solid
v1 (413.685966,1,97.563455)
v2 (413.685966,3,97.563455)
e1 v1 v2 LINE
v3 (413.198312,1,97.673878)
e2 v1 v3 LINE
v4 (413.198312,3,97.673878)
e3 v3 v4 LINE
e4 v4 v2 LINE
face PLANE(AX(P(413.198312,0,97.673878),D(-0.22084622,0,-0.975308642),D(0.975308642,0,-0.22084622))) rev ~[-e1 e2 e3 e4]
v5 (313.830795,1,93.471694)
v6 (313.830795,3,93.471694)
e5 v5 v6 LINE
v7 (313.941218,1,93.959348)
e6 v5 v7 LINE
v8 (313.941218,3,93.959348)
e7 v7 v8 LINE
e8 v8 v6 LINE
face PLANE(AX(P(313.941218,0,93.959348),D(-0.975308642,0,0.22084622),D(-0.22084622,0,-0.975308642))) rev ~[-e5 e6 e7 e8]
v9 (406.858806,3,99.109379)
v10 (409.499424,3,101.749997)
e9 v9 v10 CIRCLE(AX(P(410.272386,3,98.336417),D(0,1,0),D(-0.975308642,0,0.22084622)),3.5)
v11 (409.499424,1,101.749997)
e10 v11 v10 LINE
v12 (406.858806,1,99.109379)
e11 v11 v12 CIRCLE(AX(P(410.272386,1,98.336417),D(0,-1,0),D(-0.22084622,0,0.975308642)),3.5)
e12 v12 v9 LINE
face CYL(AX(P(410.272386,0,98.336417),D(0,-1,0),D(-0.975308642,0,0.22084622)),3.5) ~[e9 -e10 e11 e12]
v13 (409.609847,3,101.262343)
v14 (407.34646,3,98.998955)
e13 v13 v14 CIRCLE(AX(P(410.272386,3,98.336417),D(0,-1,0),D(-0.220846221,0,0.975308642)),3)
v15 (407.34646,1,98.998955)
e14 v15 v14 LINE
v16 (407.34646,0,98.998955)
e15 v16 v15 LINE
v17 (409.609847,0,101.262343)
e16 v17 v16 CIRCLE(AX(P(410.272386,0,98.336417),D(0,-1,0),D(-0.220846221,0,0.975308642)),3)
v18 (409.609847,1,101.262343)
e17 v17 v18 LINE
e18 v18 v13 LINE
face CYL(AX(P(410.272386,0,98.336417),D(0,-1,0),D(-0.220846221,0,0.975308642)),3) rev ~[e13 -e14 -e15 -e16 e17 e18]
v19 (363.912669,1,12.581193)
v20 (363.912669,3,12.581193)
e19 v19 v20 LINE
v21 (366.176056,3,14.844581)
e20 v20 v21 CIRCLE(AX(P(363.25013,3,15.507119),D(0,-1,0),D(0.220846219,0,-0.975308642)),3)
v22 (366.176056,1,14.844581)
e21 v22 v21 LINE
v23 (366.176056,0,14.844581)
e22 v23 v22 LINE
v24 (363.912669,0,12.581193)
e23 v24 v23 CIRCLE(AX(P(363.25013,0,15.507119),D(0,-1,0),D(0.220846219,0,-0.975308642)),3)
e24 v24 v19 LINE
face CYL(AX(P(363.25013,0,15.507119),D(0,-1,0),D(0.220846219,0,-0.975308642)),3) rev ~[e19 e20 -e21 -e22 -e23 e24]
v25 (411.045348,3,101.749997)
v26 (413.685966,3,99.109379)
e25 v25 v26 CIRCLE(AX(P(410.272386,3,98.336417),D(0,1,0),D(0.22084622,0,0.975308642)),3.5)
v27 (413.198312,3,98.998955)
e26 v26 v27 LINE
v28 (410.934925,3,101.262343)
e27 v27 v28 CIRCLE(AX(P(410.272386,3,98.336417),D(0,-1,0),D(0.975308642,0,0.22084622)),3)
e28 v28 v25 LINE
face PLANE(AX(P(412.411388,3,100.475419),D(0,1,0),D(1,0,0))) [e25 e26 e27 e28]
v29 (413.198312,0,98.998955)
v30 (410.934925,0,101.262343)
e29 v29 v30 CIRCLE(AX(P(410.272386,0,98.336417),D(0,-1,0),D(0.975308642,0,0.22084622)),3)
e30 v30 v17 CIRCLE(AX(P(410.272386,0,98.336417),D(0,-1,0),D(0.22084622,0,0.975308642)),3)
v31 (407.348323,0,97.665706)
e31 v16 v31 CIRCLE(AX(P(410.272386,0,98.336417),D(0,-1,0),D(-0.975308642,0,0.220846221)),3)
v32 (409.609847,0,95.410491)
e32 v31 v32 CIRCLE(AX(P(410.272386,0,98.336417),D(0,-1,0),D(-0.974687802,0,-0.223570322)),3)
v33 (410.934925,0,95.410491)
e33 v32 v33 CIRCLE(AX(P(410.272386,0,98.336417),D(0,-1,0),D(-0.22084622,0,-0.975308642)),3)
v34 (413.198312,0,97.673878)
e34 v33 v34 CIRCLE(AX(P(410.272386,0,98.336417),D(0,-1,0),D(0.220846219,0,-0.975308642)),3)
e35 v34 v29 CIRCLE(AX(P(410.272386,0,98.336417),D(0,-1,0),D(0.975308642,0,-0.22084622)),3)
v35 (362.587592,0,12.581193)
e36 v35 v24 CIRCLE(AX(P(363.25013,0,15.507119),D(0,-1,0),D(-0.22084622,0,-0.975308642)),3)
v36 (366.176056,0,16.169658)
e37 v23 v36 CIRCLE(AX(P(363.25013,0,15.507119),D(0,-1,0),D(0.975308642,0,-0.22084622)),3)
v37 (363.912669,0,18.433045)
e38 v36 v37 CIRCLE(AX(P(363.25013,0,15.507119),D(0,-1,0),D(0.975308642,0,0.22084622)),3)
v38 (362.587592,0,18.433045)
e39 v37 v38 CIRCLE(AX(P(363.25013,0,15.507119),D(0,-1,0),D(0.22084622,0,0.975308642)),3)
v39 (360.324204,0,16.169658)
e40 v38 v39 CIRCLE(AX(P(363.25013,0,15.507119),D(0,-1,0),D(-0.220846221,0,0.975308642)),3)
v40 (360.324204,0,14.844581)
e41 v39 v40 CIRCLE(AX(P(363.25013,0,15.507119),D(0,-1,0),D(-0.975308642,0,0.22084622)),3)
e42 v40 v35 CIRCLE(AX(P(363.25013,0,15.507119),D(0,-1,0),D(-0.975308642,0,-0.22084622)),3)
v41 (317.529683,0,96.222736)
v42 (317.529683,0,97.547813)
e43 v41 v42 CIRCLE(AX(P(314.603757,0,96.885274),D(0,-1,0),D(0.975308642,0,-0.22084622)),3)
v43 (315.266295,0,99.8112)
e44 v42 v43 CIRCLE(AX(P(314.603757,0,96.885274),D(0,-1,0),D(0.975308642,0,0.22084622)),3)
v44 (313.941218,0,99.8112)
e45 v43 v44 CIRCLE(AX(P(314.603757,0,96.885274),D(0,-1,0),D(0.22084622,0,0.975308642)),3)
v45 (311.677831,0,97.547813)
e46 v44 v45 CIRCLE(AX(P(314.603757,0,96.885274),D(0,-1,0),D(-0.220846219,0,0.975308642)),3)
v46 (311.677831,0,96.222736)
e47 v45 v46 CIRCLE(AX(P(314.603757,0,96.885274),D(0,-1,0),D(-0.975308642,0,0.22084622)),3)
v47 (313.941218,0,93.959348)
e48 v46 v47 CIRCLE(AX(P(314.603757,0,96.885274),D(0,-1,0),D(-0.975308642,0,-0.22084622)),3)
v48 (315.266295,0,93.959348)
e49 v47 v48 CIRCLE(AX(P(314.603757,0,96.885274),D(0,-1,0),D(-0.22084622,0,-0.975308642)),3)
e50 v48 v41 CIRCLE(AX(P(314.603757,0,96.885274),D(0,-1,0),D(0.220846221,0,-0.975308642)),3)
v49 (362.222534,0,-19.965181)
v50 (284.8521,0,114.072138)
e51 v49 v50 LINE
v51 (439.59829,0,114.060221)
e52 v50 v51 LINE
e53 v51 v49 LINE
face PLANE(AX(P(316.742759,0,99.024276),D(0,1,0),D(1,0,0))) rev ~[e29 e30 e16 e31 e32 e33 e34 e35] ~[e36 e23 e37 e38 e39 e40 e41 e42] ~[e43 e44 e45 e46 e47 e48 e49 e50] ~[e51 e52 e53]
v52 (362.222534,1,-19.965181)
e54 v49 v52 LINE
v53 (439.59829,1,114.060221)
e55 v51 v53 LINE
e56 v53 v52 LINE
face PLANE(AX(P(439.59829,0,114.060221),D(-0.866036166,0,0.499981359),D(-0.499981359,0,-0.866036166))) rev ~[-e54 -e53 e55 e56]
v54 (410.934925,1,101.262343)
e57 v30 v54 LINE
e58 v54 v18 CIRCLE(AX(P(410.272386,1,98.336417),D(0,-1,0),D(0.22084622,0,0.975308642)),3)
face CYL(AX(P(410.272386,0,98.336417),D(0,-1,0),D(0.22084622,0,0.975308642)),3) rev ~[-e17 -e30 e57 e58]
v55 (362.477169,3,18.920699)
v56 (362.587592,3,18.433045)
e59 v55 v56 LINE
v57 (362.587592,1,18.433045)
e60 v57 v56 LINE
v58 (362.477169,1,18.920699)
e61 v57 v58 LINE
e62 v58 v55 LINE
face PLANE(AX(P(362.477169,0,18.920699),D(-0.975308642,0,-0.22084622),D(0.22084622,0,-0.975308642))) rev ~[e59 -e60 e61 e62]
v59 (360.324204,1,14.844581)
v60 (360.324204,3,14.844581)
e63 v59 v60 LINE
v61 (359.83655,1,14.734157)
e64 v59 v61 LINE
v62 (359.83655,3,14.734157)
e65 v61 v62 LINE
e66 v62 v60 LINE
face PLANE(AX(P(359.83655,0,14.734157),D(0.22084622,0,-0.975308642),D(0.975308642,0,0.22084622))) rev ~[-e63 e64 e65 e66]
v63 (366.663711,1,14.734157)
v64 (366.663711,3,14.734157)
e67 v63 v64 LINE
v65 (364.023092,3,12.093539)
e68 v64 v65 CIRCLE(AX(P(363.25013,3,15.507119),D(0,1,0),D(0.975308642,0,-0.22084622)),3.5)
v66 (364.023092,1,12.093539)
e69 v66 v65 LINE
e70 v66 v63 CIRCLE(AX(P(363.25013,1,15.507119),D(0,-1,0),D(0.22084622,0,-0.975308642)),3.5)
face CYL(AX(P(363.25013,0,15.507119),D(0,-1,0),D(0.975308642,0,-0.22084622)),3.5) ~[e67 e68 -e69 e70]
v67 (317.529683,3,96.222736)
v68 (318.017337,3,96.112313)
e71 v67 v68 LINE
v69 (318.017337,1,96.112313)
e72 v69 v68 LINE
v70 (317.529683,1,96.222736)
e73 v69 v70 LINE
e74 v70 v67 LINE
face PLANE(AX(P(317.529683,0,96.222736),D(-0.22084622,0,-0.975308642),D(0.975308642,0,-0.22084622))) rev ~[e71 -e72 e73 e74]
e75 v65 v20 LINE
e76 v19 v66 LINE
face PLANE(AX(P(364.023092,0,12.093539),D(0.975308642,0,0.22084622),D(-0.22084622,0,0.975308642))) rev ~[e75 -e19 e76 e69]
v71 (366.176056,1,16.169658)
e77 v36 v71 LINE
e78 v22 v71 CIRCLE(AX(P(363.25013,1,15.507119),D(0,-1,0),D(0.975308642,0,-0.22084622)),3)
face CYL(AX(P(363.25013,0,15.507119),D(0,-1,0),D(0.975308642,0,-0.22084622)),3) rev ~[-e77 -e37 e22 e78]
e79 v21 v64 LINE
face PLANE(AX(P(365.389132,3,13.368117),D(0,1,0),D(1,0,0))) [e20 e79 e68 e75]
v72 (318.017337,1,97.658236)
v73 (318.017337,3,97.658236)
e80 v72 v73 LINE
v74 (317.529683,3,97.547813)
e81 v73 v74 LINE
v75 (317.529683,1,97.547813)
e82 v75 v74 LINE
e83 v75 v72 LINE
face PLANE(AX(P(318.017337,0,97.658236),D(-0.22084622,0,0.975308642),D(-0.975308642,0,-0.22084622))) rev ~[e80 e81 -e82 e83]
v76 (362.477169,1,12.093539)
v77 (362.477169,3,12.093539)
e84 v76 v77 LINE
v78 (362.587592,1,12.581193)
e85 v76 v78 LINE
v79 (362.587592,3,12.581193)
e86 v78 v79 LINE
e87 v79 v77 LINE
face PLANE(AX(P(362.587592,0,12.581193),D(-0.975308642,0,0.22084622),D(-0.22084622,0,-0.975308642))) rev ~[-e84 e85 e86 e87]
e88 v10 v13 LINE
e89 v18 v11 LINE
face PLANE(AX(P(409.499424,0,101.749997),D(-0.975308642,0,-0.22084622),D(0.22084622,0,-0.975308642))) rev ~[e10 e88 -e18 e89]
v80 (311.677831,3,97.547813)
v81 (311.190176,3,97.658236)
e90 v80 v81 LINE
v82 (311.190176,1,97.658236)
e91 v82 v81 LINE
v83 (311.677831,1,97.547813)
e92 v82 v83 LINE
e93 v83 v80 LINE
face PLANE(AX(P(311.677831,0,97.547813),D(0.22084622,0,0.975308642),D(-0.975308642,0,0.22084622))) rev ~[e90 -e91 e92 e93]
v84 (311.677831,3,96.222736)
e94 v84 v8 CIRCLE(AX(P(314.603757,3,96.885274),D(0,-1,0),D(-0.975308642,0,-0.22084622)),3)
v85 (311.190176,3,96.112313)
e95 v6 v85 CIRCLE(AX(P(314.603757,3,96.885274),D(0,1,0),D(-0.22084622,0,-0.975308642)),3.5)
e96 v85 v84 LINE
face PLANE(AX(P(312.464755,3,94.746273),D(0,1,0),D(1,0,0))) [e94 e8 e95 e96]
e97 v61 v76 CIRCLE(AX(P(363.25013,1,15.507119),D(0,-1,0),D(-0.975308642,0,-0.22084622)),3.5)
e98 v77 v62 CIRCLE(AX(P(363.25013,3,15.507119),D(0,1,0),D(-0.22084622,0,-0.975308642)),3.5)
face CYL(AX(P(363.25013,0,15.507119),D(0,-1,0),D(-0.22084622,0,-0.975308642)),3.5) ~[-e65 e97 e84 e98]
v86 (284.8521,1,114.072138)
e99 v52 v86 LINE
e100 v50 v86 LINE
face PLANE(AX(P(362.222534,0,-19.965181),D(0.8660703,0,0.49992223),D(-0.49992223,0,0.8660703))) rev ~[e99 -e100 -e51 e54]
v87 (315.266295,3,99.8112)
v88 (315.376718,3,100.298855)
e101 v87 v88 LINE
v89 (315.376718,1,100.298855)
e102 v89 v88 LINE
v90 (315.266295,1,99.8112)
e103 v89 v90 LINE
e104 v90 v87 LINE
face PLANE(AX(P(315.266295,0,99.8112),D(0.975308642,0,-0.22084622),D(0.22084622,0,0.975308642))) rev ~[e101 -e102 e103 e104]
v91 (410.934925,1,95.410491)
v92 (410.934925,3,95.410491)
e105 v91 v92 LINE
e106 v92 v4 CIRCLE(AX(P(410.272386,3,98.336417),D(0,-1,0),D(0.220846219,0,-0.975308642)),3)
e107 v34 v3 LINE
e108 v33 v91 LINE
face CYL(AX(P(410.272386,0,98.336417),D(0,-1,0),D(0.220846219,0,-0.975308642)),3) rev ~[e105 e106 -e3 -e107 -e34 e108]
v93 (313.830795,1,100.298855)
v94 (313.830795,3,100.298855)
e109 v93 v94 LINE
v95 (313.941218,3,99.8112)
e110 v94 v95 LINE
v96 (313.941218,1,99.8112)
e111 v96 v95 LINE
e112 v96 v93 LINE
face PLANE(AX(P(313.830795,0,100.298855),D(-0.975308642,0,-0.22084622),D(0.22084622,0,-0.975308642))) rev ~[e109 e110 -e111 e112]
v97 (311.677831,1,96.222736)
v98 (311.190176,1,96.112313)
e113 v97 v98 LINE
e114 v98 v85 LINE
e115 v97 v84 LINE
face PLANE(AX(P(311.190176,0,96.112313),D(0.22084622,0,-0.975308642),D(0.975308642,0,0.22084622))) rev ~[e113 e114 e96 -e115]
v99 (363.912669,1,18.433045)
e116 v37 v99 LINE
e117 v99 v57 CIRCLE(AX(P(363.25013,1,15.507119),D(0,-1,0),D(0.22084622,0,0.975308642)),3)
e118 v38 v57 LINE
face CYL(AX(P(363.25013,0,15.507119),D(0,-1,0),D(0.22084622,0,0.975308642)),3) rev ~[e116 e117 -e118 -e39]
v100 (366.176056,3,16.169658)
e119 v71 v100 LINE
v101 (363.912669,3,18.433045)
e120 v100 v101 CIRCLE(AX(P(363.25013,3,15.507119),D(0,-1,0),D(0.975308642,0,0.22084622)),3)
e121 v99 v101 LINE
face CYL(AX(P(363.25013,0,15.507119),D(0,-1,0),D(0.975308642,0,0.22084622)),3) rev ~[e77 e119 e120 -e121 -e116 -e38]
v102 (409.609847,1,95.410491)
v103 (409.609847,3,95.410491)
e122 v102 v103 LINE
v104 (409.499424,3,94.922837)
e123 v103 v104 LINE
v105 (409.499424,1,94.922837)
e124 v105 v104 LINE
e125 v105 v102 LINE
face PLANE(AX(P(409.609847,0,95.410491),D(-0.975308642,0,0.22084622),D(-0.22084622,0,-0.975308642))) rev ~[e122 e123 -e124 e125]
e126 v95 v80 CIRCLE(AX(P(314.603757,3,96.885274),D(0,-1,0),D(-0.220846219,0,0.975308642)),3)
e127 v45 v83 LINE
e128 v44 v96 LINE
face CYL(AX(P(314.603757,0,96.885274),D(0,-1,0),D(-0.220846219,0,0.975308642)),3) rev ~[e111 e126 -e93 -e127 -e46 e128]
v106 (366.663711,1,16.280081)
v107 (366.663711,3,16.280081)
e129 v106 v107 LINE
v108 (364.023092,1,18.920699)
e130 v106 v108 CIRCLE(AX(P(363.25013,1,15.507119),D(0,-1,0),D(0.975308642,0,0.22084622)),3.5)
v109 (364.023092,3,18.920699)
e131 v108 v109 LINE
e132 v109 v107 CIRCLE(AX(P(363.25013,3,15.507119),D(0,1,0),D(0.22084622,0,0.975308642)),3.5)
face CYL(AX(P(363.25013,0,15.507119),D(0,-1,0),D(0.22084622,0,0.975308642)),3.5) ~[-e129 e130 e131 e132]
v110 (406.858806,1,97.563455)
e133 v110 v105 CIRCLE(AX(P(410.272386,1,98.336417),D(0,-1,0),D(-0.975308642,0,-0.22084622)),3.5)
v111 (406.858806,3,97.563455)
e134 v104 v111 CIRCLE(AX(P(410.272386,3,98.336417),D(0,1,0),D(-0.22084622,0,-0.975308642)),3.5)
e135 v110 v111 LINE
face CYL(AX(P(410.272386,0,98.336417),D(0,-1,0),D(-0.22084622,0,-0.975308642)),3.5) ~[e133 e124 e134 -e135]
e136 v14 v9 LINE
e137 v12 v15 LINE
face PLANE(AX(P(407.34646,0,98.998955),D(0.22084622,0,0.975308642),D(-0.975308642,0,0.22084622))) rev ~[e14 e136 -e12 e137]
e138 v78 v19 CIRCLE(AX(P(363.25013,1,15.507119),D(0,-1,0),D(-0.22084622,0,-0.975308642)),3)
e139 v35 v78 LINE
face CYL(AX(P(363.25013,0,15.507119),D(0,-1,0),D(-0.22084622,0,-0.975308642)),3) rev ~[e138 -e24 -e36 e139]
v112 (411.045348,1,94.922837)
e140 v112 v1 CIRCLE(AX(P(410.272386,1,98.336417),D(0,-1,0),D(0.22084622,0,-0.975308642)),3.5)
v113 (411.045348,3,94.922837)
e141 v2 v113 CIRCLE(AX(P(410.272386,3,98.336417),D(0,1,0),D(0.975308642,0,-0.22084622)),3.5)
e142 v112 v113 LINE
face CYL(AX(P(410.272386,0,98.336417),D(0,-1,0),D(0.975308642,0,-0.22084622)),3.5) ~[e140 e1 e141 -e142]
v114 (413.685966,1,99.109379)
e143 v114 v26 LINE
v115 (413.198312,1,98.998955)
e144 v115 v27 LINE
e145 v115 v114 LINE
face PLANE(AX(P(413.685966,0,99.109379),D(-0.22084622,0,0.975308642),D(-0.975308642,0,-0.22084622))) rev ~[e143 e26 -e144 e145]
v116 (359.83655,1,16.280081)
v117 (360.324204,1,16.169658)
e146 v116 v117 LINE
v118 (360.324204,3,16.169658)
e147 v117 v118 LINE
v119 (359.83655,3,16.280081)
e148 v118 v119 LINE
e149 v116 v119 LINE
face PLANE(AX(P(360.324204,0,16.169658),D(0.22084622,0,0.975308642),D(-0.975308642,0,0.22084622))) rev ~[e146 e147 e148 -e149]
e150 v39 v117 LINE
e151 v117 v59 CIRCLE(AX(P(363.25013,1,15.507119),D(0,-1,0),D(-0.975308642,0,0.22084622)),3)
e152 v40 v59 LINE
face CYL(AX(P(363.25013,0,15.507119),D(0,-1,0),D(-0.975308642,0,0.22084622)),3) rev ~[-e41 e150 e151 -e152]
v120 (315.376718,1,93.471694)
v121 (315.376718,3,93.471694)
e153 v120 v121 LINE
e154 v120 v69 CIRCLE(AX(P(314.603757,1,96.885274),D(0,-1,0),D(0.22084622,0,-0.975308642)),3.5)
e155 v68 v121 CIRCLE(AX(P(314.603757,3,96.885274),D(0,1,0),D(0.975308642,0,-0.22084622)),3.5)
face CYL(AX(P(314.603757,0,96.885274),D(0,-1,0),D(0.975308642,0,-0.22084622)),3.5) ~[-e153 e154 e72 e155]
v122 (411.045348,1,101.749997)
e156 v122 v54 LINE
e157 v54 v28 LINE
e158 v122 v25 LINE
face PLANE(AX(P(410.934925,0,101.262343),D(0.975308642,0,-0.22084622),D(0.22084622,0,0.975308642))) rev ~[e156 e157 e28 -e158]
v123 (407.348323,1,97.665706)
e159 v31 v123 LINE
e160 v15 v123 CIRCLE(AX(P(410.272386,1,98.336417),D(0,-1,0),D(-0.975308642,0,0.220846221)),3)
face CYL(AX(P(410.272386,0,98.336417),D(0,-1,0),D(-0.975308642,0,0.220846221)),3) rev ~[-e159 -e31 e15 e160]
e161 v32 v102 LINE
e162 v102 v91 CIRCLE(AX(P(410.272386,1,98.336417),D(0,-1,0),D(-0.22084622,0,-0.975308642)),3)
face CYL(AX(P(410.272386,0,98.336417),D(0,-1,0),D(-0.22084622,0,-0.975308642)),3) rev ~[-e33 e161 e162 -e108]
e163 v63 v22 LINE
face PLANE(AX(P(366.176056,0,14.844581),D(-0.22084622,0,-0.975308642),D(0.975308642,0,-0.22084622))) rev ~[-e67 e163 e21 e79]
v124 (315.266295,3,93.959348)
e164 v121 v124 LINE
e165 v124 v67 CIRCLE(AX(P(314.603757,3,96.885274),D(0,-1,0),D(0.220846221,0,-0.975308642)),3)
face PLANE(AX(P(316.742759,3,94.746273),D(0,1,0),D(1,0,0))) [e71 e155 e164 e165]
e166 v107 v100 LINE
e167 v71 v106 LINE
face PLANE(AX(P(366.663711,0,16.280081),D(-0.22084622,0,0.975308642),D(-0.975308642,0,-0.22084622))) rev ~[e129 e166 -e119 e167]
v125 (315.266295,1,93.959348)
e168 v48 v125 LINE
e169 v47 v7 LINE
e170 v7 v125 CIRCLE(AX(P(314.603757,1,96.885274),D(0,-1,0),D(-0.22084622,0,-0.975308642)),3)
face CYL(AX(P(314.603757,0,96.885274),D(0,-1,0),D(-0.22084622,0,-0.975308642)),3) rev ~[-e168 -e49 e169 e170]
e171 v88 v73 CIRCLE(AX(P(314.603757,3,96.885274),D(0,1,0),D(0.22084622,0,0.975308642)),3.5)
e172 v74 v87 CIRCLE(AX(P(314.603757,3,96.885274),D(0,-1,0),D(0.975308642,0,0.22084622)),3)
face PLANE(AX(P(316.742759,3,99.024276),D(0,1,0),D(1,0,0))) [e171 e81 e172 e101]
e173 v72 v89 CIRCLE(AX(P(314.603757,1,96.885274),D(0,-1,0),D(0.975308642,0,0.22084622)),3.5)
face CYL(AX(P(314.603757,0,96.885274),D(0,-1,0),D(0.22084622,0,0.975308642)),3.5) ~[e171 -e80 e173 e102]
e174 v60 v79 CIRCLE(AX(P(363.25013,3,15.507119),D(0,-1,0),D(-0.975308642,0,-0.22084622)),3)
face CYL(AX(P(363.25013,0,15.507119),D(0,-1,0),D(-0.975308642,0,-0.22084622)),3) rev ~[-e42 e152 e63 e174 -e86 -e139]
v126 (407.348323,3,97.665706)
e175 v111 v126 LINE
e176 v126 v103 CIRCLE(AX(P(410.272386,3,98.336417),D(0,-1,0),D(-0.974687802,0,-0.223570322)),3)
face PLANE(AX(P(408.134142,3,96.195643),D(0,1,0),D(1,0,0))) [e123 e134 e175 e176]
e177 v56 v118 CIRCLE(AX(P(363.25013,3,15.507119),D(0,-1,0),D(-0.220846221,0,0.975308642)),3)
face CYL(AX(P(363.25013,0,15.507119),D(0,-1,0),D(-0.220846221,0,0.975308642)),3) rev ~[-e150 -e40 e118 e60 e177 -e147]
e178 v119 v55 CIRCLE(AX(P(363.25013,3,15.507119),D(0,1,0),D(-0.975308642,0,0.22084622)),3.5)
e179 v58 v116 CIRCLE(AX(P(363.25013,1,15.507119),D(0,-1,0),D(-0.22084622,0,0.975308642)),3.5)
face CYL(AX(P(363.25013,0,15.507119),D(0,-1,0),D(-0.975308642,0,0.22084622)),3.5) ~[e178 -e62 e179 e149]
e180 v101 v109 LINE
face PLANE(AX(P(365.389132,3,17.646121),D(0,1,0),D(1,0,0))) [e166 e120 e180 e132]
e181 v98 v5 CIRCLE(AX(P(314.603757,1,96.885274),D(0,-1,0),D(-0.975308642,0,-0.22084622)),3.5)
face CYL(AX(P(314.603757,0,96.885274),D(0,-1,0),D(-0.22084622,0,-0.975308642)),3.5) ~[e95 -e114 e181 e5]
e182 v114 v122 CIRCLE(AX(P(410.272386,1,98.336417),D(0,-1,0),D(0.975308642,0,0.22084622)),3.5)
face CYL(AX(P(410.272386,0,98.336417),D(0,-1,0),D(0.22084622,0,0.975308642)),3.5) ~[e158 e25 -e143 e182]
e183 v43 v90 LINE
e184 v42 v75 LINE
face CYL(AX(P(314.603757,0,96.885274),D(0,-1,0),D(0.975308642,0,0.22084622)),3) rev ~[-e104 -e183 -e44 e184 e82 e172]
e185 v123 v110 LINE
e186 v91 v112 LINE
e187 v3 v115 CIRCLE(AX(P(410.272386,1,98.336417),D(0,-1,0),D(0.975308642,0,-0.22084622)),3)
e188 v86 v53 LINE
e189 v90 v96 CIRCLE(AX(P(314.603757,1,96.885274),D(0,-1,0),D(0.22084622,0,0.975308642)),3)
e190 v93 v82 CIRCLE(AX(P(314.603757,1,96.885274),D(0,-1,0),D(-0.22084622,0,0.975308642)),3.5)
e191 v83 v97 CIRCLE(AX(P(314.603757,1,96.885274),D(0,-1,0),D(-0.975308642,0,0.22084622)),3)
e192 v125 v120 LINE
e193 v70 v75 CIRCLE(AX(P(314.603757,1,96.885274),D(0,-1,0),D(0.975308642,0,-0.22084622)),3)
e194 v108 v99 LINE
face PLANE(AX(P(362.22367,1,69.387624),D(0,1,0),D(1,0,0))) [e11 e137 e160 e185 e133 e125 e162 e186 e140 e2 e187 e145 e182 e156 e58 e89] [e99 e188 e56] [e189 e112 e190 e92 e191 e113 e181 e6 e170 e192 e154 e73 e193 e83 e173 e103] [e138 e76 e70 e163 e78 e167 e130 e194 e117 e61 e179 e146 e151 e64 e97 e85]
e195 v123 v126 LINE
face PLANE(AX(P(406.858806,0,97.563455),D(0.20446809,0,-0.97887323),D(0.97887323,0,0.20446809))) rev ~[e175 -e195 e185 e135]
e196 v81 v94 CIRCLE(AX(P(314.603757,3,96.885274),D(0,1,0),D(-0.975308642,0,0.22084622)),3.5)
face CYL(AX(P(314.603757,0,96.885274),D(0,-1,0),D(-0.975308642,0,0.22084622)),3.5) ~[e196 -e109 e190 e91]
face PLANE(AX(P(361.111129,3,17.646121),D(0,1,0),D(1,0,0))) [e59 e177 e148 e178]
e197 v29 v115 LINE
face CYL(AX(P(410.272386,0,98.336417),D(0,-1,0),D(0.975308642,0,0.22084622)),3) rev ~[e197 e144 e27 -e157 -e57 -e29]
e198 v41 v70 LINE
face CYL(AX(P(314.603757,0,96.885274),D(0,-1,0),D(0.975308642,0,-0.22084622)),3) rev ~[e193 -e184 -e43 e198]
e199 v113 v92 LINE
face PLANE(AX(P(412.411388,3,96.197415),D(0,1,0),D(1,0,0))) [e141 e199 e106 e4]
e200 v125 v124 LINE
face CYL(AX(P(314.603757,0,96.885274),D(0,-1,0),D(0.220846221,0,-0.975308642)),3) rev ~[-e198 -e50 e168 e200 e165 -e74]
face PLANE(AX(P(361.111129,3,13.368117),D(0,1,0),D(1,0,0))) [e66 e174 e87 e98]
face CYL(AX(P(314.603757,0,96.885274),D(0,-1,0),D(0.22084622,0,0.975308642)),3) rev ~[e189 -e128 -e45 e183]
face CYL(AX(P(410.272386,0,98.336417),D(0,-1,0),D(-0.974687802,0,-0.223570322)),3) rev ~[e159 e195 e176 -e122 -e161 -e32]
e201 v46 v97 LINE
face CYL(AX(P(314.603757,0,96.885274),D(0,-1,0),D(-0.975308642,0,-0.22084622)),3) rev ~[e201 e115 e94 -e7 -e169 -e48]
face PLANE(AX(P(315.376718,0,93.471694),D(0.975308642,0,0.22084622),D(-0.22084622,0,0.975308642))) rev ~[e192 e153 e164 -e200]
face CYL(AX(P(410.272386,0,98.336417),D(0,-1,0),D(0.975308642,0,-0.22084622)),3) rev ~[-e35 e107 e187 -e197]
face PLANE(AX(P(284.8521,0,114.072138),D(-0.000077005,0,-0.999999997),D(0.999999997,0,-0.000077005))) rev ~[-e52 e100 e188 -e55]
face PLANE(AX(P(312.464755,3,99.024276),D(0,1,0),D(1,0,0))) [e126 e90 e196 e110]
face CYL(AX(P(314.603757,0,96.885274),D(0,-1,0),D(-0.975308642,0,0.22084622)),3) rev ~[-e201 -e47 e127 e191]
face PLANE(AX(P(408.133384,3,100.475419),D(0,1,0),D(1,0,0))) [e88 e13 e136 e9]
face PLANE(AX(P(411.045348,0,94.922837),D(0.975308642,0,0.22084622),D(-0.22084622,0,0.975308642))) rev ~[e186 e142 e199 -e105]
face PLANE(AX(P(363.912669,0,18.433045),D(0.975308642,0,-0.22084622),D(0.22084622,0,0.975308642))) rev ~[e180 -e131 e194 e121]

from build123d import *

# Parameters (mm, degrees)
BOSS_EXTRUDE3_DEPTH = 1
BOSS_EXTRUDE4_DEPTH = 3


with BuildPart() as part:
    # Sketch1 → Boss-Extrude3 (new body)
    with BuildSketch(Plane(origin=(0, 0, 0), x_dir=(1, 0, 0), z_dir=(0, 1, 0))):
        Polygon((362.222534427, 19.965180646), (284.852100337, -114.072137645), (439.598290008, -114.060221421), align=None)
        with BuildLine():
            Line((363.912669034, -12.581193275), (364.023092144, -12.093538954))
            ThreePointArc((364.023092144, -12.093538954), (365.725004108, -13.032245467), (366.663710621, -14.734157431))
            Line((366.663710621, -14.734157431), (366.1760563, -14.844580541))
            ThreePointArc((366.1760563, -14.844580541), (366.250130374, -15.507119201), (366.1760563, -16.169657861))
            Line((366.1760563, -16.169657861), (366.663710621, -16.280080971))
            ThreePointArc((366.663710621, -16.280080971), (365.725004108, -17.981992935), (364.023092144, -18.920699448))
            Line((364.023092144, -18.920699448), (363.912669034, -18.433045127))
            ThreePointArc((363.912669034, -18.433045127), (363.250130374, -18.507119201), (362.587591714, -18.433045127))
            Line((362.587591714, -18.433045127), (362.477168604, -18.920699448))
            ThreePointArc((362.477168604, -18.920699448), (360.77525664, -17.981992935), (359.836550127, -16.280080971))
            Line((359.836550127, -16.280080971), (360.324204448, -16.169657861))
            ThreePointArc((360.324204448, -16.169657861), (360.250130374, -15.507119201), (360.324204448, -14.844580541))
            Line((360.324204448, -14.844580541), (359.836550127, -14.734157431))
            ThreePointArc((359.836550127, -14.734157431), (360.77525664, -13.032245467), (362.477168604, -12.093538954))
            Line((362.477168604, -12.093538954), (362.587591714, -12.581193275))
            ThreePointArc((362.587591714, -12.581193275), (363.250130374, -12.507119201), (363.912669034, -12.581193275))
        make_face(mode=Mode.SUBTRACT)
        with BuildLine():
            ThreePointArc((313.830794955, -100.2988546), (312.128882991, -99.360148087), (311.190176478, -97.658236123))
            Line((311.190176478, -97.658236123), (311.677830799, -97.547813013))
            ThreePointArc((311.677830799, -97.547813013), (311.603756725, -96.885274353), (311.677830799, -96.222735693))
            Line((311.677830799, -96.222735693), (311.190176478, -96.112312583))
            ThreePointArc((311.190176478, -96.112312583), (312.128882991, -94.410400619), (313.830794955, -93.471694106))
            Line((313.830794955, -93.471694106), (313.941218065, -93.959348427))
            ThreePointArc((313.941218065, -93.959348427), (314.603756725, -93.885274353), (315.266295385, -93.959348427))
            Line((315.266295385, -93.959348427), (315.376718495, -93.471694106))
            ThreePointArc((315.376718495, -93.471694106), (317.078630459, -94.410400619), (318.017336972, -96.112312583))
            Line((318.017336972, -96.112312583), (317.529682651, -96.222735693))
            ThreePointArc((317.529682651, -96.222735693), (317.603756725, -96.885274353), (317.529682651, -97.547813013))
            Line((317.529682651, -97.547813013), (318.017336972, -97.658236123))
            ThreePointArc((318.017336972, -97.658236123), (317.078630459, -99.360148087), (315.376718495, -100.2988546))
            Line((315.376718495, -100.2988546), (315.266295385, -99.811200279))
            ThreePointArc((315.266295385, -99.811200279), (314.603756725, -99.885274353), (313.941218065, -99.811200279))
            Line((313.941218065, -99.811200279), (313.830794955, -100.2988546))
        make_face(mode=Mode.SUBTRACT)
        with BuildLine():
            ThreePointArc((406.858805843, -97.563455036), (407.797512356, -95.861543072), (409.49942432, -94.922836559))
            Line((409.49942432, -94.922836559), (409.60984743, -95.41049088))
            ThreePointArc((409.60984743, -95.41049088), (410.27238609, -95.336416806), (410.93492475, -95.41049088))
            Line((410.93492475, -95.41049088), (411.04534786, -94.922836559))
            ThreePointArc((411.04534786, -94.922836559), (412.747259824, -95.861543072), (413.685966337, -97.563455036))
            Line((413.685966337, -97.563455036), (413.198312016, -97.673878146))
            ThreePointArc((413.198312016, -97.673878146), (413.27238609, -98.336416806), (413.198312016, -98.998955466))
            Line((413.198312016, -98.998955466), (413.685966337, -99.109378576))
            ThreePointArc((413.685966337, -99.109378576), (412.747259824, -100.81129054), (411.04534786, -101.749997053))
            Line((411.04534786, -101.749997053), (410.93492475, -101.262342732))
            ThreePointArc((410.93492475, -101.262342732), (410.27238609, -101.336416806), (409.60984743, -101.262342732))
            Line((409.60984743, -101.262342732), (409.49942432, -101.749997053))
            ThreePointArc((409.49942432, -101.749997053), (407.797512356, -100.81129054), (406.858805843, -99.109378576))
            Line((406.858805843, -99.109378576), (407.346460164, -98.998955466))
            ThreePointArc((407.346460164, -98.998955466), (407.272389017, -98.332225876), (407.348322685, -97.665705839))
            Line((407.348322685, -97.665705839), (406.858805843, -97.563455036))
        make_face(mode=Mode.SUBTRACT)
    extrude(amount=BOSS_EXTRUDE3_DEPTH)

    # Sketch1<15> → Boss-Extrude4 (add)
    with BuildSketch(Plane(origin=(0, 0, 0), x_dir=(1, 0, 0), z_dir=(0, 1, 0))):
        with BuildLine():
            Line((315.266295385, -99.811200279), (315.376718495, -100.2988546))
            ThreePointArc((315.376718495, -100.2988546), (317.078630459, -99.360148087), (318.017336972, -97.658236123))
            Line((318.017336972, -97.658236123), (317.529682651, -97.547813013))
            ThreePointArc((317.529682651, -97.547813013), (316.725077068, -99.006594697), (315.266295385, -99.811200279))
        make_face()
        with BuildLine():
            ThreePointArc((318.017336972, -96.112312583), (317.078630459, -94.410400619), (315.376718495, -93.471694106))
            Line((315.376718495, -93.471694106), (315.266295385, -93.959348427))
            ThreePointArc((315.266295385, -93.959348427), (316.725077068, -94.76395401), (317.529682651, -96.222735693))
            Line((317.529682651, -96.222735693), (318.017336972, -96.112312583))
        make_face()
        with BuildLine():
            Line((311.677830799, -97.547813013), (311.190176478, -97.658236123))
            ThreePointArc((311.190176478, -97.658236123), (312.128882991, -99.360148087), (313.830794955, -100.2988546))
            Line((313.830794955, -100.2988546), (313.941218065, -99.811200279))
            ThreePointArc((313.941218065, -99.811200279), (312.482436381, -99.006594697), (311.677830799, -97.547813013))
        make_face()
        with BuildLine():
            ThreePointArc((313.830794955, -93.471694106), (312.128882991, -94.410400619), (311.190176478, -96.112312583))
            Line((311.190176478, -96.112312583), (311.677830799, -96.222735693))
            ThreePointArc((311.677830799, -96.222735693), (312.482436381, -94.76395401), (313.941218065, -93.959348427))
            Line((313.941218065, -93.959348427), (313.830794955, -93.471694106))
        make_face()
        with BuildLine():
            Line((407.346460164, -98.998955466), (406.858805843, -99.109378576))
            ThreePointArc((406.858805843, -99.109378576), (407.797512356, -100.81129054), (409.49942432, -101.749997053))
            Line((409.49942432, -101.749997053), (409.60984743, -101.262342732))
            ThreePointArc((409.60984743, -101.262342732), (408.151065747, -100.457737149), (407.346460164, -98.998955466))
        make_face()
        with BuildLine():
            ThreePointArc((411.04534786, -101.749997053), (412.747259824, -100.81129054), (413.685966337, -99.109378576))
            Line((413.685966337, -99.109378576), (413.198312016, -98.998955466))
            ThreePointArc((413.198312016, -98.998955466), (412.393706434, -100.457737149), (410.93492475, -101.262342732))
            Line((410.93492475, -101.262342732), (411.04534786, -101.749997053))
        make_face()
        with BuildLine():
            ThreePointArc((413.685966337, -97.563455036), (412.747259824, -95.861543072), (411.04534786, -94.922836559))
            Line((411.04534786, -94.922836559), (410.93492475, -95.41049088))
            ThreePointArc((410.93492475, -95.41049088), (412.393706434, -96.215096462), (413.198312016, -97.673878146))
            Line((413.198312016, -97.673878146), (413.685966337, -97.563455036))
        make_face()
        with BuildLine():
            Line((409.60984743, -95.41049088), (409.49942432, -94.922836559))
            ThreePointArc((409.49942432, -94.922836559), (407.797512356, -95.861543072), (406.858805843, -97.563455036))
            Line((406.858805843, -97.563455036), (407.348322685, -97.665705839))
            ThreePointArc((407.348322685, -97.665705839), (408.154031252, -96.212135097), (409.60984743, -95.41049088))
        make_face()
        with BuildLine():
            Line((360.324204448, -16.169657861), (359.836550127, -16.280080971))
            ThreePointArc((359.836550127, -16.280080971), (360.77525664, -17.981992935), (362.477168604, -18.920699448))
            Line((362.477168604, -18.920699448), (362.587591714, -18.433045127))
            ThreePointArc((362.587591714, -18.433045127), (361.128810031, -17.628439544), (360.324204448, -16.169657861))
        make_face()
        with BuildLine():
            ThreePointArc((364.023092144, -18.920699448), (365.725004108, -17.981992935), (366.663710621, -16.280080971))
            Line((366.663710621, -16.280080971), (366.1760563, -16.169657861))
            ThreePointArc((366.1760563, -16.169657861), (365.371450718, -17.628439544), (363.912669034, -18.433045127))
            Line((363.912669034, -18.433045127), (364.023092144, -18.920699448))
        make_face()
        with BuildLine():
            Line((362.587591714, -12.581193275), (362.477168604, -12.093538954))
            ThreePointArc((362.477168604, -12.093538954), (360.77525664, -13.032245467), (359.836550127, -14.734157431))
            Line((359.836550127, -14.734157431), (360.324204448, -14.844580541))
            ThreePointArc((360.324204448, -14.844580541), (361.128810031, -13.385798857), (362.587591714, -12.581193275))
        make_face()
        with BuildLine():
            ThreePointArc((366.663710621, -14.734157431), (365.725004108, -13.032245467), (364.023092144, -12.093538954))
            Line((364.023092144, -12.093538954), (363.912669034, -12.581193275))
            ThreePointArc((363.912669034, -12.581193275), (365.371450718, -13.385798857), (366.1760563, -14.844580541))
            Line((366.1760563, -14.844580541), (366.663710621, -14.734157431))
        make_face()
    extrude(amount=BOSS_EXTRUDE4_DEPTH)


solid = part.part
